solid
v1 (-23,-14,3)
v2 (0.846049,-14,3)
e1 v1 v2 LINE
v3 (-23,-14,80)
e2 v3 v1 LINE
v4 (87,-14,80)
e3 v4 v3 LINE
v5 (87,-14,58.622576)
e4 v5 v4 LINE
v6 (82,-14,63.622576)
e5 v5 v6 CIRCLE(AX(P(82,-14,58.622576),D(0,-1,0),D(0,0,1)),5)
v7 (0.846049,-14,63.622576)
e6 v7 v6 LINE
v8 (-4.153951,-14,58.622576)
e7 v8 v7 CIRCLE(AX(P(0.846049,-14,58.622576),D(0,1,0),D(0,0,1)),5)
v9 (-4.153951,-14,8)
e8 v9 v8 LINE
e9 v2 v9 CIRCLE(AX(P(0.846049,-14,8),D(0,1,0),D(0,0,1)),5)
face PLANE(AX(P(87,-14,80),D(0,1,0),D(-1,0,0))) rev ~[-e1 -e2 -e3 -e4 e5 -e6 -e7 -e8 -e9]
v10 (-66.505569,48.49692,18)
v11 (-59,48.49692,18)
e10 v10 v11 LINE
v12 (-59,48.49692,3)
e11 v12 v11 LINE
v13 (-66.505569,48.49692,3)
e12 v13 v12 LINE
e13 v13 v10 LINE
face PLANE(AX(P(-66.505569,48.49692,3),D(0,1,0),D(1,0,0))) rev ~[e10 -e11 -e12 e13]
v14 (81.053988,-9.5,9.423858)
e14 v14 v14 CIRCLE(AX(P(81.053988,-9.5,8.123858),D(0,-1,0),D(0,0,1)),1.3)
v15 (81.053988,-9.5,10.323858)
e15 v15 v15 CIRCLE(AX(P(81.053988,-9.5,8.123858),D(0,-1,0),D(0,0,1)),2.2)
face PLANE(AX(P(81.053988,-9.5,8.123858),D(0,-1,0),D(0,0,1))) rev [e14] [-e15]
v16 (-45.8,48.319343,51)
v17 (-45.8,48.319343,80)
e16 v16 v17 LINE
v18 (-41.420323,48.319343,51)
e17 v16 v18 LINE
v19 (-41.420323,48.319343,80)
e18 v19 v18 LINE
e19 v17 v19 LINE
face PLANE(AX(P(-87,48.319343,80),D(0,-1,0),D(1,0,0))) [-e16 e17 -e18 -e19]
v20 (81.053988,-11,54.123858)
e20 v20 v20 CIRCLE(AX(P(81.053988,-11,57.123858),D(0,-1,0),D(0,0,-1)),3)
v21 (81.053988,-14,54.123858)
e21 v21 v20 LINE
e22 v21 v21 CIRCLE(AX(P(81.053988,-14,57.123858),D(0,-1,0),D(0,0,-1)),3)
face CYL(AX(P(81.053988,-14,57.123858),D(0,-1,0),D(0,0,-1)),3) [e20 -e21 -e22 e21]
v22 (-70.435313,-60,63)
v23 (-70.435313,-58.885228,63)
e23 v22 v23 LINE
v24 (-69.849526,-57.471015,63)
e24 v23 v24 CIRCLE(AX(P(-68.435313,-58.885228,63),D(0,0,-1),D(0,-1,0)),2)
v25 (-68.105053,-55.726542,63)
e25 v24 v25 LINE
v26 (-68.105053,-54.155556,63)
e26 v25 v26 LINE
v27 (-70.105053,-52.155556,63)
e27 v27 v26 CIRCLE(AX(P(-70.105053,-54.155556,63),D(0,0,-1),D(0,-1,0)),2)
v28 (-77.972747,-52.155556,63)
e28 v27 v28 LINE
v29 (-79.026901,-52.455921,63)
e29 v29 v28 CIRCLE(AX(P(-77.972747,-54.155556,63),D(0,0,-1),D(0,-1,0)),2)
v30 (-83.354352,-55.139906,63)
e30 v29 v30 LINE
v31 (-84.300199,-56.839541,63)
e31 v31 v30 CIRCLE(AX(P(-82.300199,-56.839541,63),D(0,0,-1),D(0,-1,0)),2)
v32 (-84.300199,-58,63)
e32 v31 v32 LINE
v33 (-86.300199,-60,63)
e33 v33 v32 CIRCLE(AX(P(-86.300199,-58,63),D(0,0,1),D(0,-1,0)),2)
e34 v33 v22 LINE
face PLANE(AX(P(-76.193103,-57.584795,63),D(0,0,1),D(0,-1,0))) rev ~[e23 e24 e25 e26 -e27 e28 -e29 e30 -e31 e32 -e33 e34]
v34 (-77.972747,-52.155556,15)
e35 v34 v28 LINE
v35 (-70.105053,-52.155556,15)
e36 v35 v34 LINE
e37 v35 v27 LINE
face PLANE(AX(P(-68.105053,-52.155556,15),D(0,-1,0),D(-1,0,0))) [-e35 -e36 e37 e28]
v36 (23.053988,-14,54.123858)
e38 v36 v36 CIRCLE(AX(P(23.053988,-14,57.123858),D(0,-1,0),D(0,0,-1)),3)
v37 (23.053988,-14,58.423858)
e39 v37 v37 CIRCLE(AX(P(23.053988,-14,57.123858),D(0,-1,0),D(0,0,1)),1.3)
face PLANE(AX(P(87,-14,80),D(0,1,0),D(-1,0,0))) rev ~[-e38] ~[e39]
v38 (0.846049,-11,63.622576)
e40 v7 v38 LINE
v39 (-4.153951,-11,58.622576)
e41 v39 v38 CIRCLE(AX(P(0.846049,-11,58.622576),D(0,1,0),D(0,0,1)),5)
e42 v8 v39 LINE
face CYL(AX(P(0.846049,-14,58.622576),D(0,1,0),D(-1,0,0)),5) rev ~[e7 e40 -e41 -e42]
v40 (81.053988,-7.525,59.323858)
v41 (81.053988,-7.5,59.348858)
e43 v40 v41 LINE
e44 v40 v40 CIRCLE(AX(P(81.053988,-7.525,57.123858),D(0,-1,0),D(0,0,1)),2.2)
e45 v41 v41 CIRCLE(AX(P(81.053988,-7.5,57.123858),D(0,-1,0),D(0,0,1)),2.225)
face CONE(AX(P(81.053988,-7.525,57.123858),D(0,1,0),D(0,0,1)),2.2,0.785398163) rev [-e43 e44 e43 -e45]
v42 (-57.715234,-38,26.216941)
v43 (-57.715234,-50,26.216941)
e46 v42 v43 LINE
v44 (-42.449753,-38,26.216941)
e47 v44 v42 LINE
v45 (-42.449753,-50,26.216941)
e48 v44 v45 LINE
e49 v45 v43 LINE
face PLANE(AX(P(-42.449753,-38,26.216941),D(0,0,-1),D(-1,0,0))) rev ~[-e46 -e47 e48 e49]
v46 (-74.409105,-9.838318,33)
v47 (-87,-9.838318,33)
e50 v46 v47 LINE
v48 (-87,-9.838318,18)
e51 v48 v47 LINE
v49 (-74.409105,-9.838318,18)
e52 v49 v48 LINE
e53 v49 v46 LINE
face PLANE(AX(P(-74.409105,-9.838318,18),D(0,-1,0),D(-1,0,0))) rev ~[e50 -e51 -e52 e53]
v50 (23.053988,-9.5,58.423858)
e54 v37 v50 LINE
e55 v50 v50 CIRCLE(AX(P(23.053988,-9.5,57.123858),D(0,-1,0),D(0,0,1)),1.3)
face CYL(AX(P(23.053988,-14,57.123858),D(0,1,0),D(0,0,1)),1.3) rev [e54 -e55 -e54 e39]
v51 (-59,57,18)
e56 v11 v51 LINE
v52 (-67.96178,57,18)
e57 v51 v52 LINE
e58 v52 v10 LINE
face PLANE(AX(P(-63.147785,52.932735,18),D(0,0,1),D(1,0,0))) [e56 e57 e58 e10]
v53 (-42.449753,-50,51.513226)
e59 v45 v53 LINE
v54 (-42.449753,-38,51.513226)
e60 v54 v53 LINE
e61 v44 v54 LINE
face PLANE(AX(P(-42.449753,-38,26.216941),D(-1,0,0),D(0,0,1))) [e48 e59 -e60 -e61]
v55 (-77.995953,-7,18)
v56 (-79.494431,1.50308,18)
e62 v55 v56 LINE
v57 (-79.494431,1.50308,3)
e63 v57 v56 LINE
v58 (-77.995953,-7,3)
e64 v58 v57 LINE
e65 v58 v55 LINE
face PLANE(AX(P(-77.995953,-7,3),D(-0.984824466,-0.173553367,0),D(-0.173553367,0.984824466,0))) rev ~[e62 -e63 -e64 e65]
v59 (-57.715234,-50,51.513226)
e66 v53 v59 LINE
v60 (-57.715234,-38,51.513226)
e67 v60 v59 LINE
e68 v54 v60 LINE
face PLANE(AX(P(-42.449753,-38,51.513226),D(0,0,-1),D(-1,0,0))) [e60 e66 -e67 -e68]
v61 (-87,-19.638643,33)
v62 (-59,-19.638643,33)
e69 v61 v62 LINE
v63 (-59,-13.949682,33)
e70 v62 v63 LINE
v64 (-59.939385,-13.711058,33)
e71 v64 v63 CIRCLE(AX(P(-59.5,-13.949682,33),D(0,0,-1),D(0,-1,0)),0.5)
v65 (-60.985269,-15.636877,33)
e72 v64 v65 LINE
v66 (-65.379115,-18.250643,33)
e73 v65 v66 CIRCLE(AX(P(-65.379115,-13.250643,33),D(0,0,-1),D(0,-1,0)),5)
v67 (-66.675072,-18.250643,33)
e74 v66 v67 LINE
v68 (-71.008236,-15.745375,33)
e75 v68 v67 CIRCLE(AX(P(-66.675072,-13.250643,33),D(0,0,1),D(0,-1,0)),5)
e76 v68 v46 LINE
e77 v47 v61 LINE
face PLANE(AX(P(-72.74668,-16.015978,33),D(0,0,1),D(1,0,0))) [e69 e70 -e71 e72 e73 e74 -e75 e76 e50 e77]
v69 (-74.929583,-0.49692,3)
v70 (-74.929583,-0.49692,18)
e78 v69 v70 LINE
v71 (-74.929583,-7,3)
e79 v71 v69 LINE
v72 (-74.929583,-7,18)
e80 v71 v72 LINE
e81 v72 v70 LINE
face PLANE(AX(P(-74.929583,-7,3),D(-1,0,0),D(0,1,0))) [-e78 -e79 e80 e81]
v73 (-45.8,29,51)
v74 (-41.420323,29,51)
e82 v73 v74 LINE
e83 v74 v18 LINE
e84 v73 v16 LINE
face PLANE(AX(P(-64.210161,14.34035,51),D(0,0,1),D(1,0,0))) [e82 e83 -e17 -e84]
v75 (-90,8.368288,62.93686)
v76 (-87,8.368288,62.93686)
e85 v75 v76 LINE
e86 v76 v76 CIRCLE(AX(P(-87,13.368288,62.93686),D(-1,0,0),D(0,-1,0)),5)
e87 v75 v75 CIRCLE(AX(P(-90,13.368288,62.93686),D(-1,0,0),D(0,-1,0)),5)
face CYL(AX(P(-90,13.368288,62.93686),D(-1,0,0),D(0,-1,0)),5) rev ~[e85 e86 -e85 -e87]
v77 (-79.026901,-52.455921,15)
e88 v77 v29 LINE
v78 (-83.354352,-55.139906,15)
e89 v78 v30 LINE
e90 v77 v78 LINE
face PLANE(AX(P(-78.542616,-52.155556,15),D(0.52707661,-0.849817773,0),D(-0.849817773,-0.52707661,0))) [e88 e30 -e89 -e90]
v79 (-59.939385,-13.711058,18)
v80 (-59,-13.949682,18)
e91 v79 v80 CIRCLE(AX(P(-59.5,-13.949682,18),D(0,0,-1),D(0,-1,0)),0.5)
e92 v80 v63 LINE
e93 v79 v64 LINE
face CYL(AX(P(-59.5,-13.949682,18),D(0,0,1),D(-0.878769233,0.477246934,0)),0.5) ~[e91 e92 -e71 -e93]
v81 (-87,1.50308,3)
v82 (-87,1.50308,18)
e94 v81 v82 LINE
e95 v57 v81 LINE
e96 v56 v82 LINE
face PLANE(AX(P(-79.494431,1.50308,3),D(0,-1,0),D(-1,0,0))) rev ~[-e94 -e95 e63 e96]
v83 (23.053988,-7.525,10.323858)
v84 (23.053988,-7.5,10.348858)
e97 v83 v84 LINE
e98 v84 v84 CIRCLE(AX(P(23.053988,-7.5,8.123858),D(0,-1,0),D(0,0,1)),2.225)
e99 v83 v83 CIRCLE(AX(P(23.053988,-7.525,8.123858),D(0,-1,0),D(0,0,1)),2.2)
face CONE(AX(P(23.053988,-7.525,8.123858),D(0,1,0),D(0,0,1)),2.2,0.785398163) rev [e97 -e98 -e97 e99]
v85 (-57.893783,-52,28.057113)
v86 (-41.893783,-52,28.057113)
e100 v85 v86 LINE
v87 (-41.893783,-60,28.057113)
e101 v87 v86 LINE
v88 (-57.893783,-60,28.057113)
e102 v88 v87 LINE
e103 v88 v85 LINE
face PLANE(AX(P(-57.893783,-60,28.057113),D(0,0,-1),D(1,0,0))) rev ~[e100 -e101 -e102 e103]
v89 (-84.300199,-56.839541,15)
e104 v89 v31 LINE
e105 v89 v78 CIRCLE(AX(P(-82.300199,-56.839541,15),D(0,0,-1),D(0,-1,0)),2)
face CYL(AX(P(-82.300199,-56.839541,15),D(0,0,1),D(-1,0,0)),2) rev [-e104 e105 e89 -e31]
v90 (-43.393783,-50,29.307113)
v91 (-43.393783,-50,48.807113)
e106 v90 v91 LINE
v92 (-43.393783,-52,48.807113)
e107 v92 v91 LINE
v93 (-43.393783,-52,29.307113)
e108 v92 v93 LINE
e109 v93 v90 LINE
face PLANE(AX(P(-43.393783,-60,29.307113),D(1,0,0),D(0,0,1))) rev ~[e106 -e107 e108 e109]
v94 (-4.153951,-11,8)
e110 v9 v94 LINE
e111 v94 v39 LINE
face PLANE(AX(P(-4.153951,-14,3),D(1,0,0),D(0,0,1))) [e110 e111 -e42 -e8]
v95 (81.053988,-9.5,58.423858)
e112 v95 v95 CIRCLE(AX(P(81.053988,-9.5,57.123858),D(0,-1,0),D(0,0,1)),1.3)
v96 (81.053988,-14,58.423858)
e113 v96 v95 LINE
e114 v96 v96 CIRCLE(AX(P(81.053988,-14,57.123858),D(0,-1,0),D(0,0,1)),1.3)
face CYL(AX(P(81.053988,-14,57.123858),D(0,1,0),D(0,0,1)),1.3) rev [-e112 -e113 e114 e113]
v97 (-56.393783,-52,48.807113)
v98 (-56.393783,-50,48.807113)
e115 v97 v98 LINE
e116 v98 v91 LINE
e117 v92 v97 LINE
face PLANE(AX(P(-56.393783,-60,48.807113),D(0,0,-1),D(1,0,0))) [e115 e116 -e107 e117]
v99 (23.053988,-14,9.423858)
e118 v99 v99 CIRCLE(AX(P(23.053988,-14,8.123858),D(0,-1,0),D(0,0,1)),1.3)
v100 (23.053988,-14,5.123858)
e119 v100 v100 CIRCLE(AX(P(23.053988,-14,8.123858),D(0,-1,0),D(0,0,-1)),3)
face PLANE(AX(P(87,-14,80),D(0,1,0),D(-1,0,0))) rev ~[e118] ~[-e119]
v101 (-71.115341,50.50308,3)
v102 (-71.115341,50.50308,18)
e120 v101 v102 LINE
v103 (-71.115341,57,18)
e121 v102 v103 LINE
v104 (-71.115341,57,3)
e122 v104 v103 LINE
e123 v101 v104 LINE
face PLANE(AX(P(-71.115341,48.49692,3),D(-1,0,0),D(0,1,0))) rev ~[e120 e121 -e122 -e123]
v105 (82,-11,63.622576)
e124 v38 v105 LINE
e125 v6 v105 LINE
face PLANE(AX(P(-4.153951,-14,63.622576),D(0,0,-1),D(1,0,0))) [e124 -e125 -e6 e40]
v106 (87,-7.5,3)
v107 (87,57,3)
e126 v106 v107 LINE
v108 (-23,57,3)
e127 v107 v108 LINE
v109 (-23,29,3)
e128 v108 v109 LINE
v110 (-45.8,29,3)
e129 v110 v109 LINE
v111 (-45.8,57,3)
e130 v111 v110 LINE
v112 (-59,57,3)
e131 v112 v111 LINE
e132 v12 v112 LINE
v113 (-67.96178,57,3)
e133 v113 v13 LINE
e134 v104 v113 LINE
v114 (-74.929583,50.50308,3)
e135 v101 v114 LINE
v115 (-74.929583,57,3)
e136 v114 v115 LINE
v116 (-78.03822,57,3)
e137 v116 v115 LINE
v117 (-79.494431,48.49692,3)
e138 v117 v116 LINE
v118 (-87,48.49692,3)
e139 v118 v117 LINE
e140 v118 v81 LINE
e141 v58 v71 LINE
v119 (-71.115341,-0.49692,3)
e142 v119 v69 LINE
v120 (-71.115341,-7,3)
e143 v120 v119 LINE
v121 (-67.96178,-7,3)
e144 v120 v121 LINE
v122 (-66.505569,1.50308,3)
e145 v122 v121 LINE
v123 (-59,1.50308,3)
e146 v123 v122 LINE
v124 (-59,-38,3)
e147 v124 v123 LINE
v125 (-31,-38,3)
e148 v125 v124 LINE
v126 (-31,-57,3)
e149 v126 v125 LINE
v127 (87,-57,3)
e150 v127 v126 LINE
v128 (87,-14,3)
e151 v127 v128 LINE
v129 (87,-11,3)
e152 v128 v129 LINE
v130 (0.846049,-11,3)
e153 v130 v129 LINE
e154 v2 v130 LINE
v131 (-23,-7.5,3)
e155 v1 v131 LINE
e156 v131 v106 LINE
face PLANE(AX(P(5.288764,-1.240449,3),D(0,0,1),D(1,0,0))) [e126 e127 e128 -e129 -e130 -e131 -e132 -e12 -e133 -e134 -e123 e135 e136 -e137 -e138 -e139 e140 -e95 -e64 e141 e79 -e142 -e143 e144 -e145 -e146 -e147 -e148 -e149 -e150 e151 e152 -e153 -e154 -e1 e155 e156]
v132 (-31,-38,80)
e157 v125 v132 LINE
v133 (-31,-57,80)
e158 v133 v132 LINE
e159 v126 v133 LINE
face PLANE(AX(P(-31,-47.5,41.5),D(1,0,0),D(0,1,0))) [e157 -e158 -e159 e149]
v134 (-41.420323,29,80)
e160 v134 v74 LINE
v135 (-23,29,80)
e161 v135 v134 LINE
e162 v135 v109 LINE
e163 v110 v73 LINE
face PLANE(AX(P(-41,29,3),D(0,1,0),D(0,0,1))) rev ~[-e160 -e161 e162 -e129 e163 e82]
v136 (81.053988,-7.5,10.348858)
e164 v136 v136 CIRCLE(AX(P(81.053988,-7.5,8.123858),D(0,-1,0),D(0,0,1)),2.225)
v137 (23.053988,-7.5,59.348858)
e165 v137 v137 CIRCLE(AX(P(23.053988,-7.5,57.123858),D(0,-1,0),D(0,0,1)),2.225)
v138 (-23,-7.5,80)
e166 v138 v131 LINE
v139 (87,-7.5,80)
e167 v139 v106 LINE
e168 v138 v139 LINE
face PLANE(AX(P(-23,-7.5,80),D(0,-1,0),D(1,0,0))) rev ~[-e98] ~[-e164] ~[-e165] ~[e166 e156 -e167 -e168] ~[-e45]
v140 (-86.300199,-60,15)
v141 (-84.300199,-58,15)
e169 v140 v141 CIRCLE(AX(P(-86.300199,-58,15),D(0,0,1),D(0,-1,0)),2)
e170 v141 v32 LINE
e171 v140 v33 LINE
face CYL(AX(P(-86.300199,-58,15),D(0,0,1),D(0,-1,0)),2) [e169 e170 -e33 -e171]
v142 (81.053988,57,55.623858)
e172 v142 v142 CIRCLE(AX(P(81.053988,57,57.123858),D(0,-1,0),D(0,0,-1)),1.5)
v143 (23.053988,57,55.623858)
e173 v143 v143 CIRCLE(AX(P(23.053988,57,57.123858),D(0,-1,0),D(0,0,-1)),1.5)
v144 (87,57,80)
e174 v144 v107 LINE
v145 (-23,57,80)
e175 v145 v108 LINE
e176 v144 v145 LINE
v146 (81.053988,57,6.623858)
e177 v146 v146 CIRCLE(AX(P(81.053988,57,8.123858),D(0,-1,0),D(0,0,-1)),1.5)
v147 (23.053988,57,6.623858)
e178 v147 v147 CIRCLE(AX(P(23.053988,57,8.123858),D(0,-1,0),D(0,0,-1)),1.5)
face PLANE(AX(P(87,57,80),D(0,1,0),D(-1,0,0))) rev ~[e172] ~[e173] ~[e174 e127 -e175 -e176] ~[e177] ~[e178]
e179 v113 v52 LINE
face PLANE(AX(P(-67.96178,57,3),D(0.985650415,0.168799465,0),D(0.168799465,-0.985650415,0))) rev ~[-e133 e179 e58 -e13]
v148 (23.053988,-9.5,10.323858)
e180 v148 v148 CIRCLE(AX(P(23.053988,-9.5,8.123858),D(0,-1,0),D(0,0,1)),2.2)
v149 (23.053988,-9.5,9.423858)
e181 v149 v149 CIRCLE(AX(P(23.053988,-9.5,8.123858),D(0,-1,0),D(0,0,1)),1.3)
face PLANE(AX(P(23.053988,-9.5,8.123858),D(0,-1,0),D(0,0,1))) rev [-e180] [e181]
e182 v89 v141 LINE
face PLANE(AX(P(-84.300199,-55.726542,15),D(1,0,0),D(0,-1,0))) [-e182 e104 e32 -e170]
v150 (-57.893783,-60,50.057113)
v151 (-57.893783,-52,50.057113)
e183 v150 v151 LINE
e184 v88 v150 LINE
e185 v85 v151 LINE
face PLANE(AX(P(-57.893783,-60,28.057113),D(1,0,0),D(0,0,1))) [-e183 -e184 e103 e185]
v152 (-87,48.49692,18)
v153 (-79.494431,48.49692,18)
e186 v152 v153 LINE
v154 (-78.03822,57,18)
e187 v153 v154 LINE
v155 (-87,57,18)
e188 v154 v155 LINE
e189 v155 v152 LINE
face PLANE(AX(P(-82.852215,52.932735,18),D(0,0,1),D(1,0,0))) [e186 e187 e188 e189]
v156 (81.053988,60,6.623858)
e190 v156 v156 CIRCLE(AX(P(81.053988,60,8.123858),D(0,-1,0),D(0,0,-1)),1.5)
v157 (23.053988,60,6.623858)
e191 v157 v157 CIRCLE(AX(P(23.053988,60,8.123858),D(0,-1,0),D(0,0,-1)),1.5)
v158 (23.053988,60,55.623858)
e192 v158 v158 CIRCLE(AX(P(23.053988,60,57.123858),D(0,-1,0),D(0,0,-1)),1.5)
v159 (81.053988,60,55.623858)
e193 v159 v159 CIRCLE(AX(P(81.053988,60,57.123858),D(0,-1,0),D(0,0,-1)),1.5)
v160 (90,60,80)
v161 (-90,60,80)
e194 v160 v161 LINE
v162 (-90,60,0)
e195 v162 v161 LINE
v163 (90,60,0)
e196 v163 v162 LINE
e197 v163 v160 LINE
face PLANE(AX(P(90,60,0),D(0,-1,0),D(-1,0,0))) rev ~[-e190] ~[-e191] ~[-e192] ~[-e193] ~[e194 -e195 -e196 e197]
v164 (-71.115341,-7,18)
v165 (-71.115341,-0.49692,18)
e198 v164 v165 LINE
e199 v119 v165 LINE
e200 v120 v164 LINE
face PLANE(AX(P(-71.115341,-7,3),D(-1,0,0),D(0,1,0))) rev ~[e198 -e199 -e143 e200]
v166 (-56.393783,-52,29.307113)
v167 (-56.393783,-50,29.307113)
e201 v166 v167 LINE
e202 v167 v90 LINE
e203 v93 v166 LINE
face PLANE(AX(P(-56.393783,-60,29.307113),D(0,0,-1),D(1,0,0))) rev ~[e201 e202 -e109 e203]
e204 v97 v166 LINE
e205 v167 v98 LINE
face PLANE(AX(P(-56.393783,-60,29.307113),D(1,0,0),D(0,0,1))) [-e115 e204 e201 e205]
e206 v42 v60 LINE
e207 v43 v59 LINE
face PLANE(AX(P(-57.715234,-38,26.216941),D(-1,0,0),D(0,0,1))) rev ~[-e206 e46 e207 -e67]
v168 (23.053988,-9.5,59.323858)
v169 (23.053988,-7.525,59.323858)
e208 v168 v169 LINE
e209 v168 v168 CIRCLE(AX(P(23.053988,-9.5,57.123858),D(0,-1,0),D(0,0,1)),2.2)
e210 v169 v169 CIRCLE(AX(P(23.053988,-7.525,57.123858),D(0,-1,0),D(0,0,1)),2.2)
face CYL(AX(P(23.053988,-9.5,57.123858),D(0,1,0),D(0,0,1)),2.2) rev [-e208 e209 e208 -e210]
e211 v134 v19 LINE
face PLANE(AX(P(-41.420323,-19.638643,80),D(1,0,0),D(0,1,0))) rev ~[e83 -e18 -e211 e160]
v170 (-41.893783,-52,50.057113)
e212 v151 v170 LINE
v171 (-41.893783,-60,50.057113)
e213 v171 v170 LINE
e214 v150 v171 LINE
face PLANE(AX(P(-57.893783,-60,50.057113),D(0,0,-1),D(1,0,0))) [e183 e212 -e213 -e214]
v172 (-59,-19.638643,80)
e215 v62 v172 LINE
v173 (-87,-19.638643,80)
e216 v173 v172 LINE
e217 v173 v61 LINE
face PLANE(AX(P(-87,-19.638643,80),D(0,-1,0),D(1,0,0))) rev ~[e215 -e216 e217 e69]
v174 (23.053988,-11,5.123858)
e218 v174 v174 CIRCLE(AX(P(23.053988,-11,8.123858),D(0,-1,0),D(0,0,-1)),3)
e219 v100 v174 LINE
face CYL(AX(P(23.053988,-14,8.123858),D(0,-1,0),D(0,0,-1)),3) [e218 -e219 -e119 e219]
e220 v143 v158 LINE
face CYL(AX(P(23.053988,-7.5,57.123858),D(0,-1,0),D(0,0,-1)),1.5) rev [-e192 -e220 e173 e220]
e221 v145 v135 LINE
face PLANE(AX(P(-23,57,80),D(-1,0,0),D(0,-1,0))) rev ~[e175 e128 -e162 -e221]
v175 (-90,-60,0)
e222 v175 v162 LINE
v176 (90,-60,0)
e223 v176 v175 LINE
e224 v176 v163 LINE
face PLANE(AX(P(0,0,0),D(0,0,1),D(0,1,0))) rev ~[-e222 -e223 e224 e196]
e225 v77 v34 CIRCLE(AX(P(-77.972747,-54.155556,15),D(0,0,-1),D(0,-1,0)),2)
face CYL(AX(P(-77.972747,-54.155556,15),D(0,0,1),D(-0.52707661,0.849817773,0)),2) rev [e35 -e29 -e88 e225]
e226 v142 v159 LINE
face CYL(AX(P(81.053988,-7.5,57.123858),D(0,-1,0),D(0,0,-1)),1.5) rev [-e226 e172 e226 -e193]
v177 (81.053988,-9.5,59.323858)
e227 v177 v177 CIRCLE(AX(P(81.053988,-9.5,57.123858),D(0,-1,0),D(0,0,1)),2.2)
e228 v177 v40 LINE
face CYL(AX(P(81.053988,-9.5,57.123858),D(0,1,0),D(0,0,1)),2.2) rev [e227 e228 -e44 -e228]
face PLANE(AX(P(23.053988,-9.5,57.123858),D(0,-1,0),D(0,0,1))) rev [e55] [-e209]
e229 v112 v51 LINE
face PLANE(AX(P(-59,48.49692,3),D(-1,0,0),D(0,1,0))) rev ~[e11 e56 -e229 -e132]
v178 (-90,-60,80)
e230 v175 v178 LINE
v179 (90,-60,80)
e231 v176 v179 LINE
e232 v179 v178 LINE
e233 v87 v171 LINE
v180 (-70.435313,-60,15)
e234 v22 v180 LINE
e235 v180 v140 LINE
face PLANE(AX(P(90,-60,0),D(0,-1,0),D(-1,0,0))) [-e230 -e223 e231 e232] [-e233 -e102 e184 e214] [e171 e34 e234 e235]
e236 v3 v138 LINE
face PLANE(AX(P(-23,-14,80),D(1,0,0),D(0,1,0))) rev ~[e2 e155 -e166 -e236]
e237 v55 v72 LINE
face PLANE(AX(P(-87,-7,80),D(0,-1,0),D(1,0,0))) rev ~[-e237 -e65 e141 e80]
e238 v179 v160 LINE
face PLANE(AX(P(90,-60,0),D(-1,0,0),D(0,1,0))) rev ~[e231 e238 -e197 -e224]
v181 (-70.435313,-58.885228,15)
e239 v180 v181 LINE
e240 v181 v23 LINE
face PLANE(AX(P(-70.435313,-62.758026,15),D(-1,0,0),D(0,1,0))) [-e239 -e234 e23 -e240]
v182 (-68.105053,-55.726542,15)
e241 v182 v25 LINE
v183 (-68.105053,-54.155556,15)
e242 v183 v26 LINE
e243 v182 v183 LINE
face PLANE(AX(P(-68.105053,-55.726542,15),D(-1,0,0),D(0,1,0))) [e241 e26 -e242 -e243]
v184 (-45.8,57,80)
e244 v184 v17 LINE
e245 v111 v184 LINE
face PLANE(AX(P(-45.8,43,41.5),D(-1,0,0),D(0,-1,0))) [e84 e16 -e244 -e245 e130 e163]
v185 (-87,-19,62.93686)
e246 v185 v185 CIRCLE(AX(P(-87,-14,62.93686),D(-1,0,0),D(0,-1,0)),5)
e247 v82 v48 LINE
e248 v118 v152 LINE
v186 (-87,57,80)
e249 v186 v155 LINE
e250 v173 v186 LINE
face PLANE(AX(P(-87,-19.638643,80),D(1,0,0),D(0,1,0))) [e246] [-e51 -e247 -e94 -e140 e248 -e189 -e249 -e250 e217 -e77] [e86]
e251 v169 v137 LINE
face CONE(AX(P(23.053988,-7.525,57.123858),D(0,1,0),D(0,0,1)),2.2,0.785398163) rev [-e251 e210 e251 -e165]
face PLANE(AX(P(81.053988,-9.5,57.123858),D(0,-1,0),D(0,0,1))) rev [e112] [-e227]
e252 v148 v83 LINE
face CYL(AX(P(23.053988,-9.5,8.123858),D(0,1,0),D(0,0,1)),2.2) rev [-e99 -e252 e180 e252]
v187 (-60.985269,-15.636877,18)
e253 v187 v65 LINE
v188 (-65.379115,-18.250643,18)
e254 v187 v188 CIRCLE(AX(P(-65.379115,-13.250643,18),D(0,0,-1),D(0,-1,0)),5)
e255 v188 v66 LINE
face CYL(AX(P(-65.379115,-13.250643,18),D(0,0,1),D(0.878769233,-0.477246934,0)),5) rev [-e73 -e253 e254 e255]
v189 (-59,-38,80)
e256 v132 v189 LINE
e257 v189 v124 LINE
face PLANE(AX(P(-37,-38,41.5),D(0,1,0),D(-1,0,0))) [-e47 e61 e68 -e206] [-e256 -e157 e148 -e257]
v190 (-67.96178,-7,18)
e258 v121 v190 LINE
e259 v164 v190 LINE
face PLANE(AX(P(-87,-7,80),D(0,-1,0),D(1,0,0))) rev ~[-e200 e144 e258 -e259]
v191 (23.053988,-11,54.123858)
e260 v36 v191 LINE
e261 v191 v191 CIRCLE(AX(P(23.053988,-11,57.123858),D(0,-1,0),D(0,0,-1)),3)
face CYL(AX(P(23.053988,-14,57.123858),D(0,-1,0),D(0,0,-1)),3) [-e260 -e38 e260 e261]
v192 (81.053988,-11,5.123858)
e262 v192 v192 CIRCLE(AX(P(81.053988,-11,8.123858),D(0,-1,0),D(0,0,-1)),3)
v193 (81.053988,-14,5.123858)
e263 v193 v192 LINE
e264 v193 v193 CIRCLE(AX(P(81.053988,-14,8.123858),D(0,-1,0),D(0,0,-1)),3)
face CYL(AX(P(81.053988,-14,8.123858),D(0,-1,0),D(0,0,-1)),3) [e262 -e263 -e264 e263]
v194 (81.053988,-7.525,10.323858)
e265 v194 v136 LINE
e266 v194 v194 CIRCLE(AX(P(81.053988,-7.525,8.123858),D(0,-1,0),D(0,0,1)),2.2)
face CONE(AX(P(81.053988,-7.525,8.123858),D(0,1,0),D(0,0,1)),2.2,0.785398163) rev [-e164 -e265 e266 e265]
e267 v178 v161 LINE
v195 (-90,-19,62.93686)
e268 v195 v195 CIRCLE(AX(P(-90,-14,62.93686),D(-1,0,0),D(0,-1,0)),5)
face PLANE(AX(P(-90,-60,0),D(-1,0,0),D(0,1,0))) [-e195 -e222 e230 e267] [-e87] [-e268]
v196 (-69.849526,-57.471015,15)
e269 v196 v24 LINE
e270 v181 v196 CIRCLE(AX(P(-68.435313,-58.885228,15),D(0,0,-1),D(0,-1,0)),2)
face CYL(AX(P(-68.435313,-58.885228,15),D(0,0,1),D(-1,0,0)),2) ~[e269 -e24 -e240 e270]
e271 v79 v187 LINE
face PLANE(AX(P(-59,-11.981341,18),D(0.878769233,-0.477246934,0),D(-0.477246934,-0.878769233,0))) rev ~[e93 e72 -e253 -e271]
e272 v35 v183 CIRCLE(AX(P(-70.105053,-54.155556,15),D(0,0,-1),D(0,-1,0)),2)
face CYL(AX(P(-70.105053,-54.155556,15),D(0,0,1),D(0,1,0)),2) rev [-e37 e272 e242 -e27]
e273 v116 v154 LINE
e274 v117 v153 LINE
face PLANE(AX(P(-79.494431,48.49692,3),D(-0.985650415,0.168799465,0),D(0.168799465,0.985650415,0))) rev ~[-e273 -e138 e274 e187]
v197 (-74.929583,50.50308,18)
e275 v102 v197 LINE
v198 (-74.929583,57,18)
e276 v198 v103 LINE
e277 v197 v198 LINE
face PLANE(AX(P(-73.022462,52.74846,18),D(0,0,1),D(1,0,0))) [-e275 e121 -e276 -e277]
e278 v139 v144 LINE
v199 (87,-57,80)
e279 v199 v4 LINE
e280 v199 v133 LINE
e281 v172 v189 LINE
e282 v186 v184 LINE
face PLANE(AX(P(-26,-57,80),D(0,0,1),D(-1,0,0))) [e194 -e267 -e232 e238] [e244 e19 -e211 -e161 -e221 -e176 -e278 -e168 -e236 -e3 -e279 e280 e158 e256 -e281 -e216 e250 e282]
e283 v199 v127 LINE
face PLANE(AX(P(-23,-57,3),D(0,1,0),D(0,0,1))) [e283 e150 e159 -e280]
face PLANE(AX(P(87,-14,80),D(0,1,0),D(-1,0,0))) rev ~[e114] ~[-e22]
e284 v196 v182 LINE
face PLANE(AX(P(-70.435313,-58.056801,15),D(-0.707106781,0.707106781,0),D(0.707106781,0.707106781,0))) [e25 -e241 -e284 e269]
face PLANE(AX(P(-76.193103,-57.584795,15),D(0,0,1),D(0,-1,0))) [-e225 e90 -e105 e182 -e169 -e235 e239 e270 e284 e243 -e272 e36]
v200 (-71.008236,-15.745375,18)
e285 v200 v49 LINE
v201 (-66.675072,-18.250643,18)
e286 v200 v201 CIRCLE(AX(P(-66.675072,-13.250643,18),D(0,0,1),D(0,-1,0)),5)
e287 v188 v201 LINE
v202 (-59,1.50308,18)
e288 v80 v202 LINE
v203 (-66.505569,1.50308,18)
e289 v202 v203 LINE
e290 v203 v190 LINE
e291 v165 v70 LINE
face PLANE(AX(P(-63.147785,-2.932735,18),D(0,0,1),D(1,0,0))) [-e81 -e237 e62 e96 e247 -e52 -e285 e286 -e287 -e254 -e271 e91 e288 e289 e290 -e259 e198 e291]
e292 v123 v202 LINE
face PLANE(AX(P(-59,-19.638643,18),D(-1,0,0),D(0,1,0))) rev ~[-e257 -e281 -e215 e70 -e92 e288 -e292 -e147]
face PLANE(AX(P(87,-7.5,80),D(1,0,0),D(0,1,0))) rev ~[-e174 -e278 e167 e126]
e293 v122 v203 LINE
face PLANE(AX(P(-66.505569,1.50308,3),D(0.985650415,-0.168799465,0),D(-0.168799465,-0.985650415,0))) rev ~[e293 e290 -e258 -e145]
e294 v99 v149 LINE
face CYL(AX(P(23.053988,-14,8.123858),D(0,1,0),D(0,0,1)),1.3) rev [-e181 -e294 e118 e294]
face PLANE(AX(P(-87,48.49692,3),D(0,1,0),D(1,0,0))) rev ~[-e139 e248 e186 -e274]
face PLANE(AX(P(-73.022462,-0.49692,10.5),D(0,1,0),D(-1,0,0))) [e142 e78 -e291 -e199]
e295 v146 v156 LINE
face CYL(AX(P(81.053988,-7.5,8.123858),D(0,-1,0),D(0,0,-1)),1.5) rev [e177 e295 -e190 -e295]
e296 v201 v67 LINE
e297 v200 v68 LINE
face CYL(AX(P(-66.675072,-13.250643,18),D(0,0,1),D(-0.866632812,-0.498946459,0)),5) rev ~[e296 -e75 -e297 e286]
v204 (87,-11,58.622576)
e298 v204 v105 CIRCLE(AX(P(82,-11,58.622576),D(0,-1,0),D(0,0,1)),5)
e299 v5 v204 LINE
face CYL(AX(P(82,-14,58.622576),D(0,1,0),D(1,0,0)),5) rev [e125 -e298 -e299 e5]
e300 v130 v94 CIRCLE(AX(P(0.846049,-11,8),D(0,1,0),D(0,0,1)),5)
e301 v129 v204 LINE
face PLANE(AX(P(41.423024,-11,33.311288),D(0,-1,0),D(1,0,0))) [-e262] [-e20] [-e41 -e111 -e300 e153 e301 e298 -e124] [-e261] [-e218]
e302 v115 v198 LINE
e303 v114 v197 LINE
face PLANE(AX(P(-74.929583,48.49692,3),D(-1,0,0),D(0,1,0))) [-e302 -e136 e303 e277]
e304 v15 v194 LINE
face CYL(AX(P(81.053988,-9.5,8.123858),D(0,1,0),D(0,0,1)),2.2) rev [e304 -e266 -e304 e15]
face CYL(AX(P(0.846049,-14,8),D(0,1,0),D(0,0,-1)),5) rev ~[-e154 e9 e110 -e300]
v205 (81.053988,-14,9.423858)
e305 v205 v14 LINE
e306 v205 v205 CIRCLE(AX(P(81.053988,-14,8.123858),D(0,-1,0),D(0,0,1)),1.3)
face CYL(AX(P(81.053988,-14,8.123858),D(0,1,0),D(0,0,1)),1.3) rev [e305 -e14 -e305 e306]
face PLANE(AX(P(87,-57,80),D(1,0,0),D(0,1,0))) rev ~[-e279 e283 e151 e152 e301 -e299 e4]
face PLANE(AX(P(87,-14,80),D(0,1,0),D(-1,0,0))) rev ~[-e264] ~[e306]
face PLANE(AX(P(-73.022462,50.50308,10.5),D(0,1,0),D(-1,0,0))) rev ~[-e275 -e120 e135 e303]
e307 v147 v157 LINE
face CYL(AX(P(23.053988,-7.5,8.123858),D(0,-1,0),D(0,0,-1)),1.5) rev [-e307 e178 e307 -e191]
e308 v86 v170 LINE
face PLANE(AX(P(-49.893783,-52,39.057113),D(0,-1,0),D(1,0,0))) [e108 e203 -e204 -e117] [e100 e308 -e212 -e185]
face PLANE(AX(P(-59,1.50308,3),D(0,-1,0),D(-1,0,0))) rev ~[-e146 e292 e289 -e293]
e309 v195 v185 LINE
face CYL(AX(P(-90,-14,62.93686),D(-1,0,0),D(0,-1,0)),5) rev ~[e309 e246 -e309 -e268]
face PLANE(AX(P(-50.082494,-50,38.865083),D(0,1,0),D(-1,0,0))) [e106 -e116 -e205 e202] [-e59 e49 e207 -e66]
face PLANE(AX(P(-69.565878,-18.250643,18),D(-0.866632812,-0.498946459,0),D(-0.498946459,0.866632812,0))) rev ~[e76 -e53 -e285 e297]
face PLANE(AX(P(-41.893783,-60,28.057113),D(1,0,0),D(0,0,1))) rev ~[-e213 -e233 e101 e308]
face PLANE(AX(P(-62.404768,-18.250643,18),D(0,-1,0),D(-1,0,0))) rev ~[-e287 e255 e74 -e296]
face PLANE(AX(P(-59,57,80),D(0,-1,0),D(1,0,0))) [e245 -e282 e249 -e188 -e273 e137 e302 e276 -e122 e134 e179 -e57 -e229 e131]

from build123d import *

# Parameters (mm, degrees)
SKETCH1_W                     = 120
SKETCH1_H                     = 180
BOSS_EXTRUDE1_DEPTH           = 80
CUT_EXTRUDE2_DEPTH            = 77
SKETCH5_W                     = 18
SKETCH5_H                     = 28
CUT_EXTRUDE3_DEPTH            = 77
SKETCH7_W                     = 3.814242132
SKETCH7_H                     = 8.503079505
BOSS_EXTRUDE2_DEPTH           = 15
SKETCH8_W                     = 28
SKETCH8_H                     = 12.638642759
CUT_EXTRUDE4_DEPTH            = 62
SKETCH10_W                    = 28
SKETCH10_H                    = 77
BOSS_EXTRUDE5_DEPTH           = 4.8
BOSS_EXTRUDE6_DEPTH           = 15
FILLET1_R                     = 0.5
FILLET2_R                     = 5
CBORE_FOR_M2_SHCS1_AT_2_COUNT = 2
CBORE_FOR_M2_SHCS1_AT_2_PITCH = 58
CBORE_FOR_M2_SHCS1_AT_3_COUNT = 2
CBORE_FOR_M2_SHCS1_AT_3_PITCH = 49
CBORE_FOR_M2_SHCS1_AT_4_COUNT = 2
CBORE_FOR_M2_SHCS1_AT_4_PITCH = 75.927597091
CUT_EXTRUDE8_DEPTH            = 3
CUT_EXTRUDE8_DEPTH_BACK       = 45
FILLET3_R                     = 2
SKETCH21_R                    = 5
CUT_EXTRUDE9_DEPTH            = 25
SKETCH22_W                    = 22
SKETCH22_H                    = 77
BOSS_EXTRUDE7_DEPTH           = 19
SKETCH23_W                    = 13
SKETCH23_H                    = 19.5
CUT_EXTRUDE10_DEPTH           = 30
SKETCH24_W                    = 16
SKETCH24_H                    = 22
CUT_EXTRUDE11_DEPTH           = 8
SKETCH25_W                    = 15.26548048
SKETCH25_H                    = 25.296285881
CUT_EXTRUDE12_DEPTH           = 12
SKETCH26_R                    = 1.5
CUT_EXTRUDE13_DEPTH           = 73
CUT_EXTRUDE14_DEPTH           = 49
CUT_EXTRUDE14_DEPTH_BACK      = 2
SKETCH27_W                    = 3.814242132
SKETCH27_H                    = 15
SKETCH28_W                    = 45.579677418
SKETCH28_H                    = 67.957985629
CUT_EXTRUDE15_DEPTH           = 29
SKETCH29_W                    = 19
SKETCH29_H                    = 77
CUT_EXTRUDE17_DEPTH           = 8
SKETCH30_W                    = 91.153951036
SKETCH30_H                    = 60.622575867
SKETCH30_R                    = 3
CUT_EXTRUDE18_DEPTH           = 3
FILLET4_R                     = 5


with BuildPart() as part:
    # Sketch1 → Boss-Extrude1 (new body)
    with BuildSketch(Plane(origin=(0, 0, 0), x_dir=(0, 1, 0), z_dir=(0, 0, 1))):
        Rectangle(SKETCH1_W, SKETCH1_H)
    extrude(amount=BOSS_EXTRUDE1_DEPTH)

    # Sketch4 → Cut-Extrude2 (cut)
    with BuildSketch(Plane(origin=(-1315.649869597, -737.347167088, 80), x_dir=(1, 0, 0), z_dir=(0, 0, 1))):
        Polygon((1292.649869597, 766.347167088), (1256.649869597, 766.347167088), (1256.649869597, 794.347167088), (1228.649869597, 794.347167088), (1228.649869597, 730.347167088), (1256.649869597, 730.347167088), (1256.649869597, 699.347167088), (1267.649869597, 699.347167088), (1267.649869597, 680.347167088), (1289.649869597, 680.347167088), (1289.649869597, 699.347167088), (1292.649869597, 699.347167088), (1292.649869597, 680.347167088), (1402.649869597, 680.347167088), (1402.649869597, 723.347167088), (1292.649869597, 723.347167088), (1292.649869597, 729.847167088), (1402.649869597, 729.847167088), (1402.649869597, 794.347167088), (1292.649869597, 794.347167088), align=None)
    extrude(amount=-CUT_EXTRUDE2_DEPTH, mode=Mode.SUBTRACT)

    # Sketch5 → Cut-Extrude3 (cut)
    with BuildSketch(Plane(origin=(-1315.649869597, -737.347167088, 80), x_dir=(1, 0, 0), z_dir=(0, 0, 1))):
        with Locations((1265.649869597, 780.347167088)):
            Rectangle(SKETCH5_W, SKETCH5_H)
    extrude(amount=-CUT_EXTRUDE3_DEPTH, mode=Mode.SUBTRACT)

    # Sketch7 → Boss-Extrude2 (add)
    with BuildSketch(Plane.XY.offset(3)):
        Polygon((-66.505568734, 48.496920495), (-59, 48.496920495), (-59, 57), (-67.961780033, 57), align=None)
        Polygon((-59, -7), (-59, 1.503079505), (-66.505568734, 1.503079505), (-67.961780033, -7), align=None)
        with Locations((-73.022462164, -2.748460247)):
            Rectangle(SKETCH7_W, SKETCH7_H)
        with Locations((-73.022462164, 52.748460248)):
            Rectangle(SKETCH7_W, SKETCH7_H)
        Polygon((-87, 57), (-87, 48.496920495), (-79.494431266, 48.496920495), (-78.038219967, 57), align=None)
        Polygon((-79.494431266, 1.503079505), (-87, 1.503079505), (-87, -7), (-77.995952978, -7), align=None)
    extrude(amount=BOSS_EXTRUDE2_DEPTH)

    # Sketch8 → Cut-Extrude4 (cut)
    with BuildSketch(Plane.XY.offset(80)):
        with Locations((-73, -13.319321379)):
            Rectangle(SKETCH8_W, SKETCH8_H)
    extrude(amount=-CUT_EXTRUDE4_DEPTH, mode=Mode.SUBTRACT)

    # Sketch10 → Boss-Extrude5 (add)
    with BuildSketch(Plane(origin=(-41, 0, 0), x_dir=(0, -1, 0), z_dir=(-1, 0, 0))):
        with Locations((-43, 41.5)):
            Rectangle(SKETCH10_W, SKETCH10_H)
    extrude(amount=BOSS_EXTRUDE5_DEPTH)

    # Sketch12 → Boss-Extrude6 (add)
    with BuildSketch(Plane.XY.offset(18)):
        Polygon((-59, -11.981340953), (-62.404767659, -18.250642754), (-69.565878077, -18.250642754), (-74.409105395, -9.838317886), (-87, -9.838317886), (-87, -19.638642759), (-59, -19.638642759), align=None)
    extrude(amount=BOSS_EXTRUDE6_DEPTH)

    # Fillet1
    fillet1_edges = [part.edges().sort_by_distance(p)[0] for p in [
        (-59, -11.981340953, 25.5),
    ]]
    fillet(fillet1_edges, radius=FILLET1_R)

    # Fillet2
    fillet2_edges = [part.edges().sort_by_distance(p)[0] for p in [
        (-62.404767659, -18.250642754, 25.5),
        (-69.565878077, -18.250642754, 25.5),
    ]]
    fillet(fillet2_edges, radius=FILLET2_R)

    # Sketch15 → CBORE for M2 SHCS1 (revolve, cut)
    with BuildSketch(Plane(origin=(81.053987796, -7.5, 57.123857513), x_dir=(0, 0, 1), z_dir=(1, 0, 0))):
        Polygon((0, 0), (0, 7.281118805), (1.3, 6.5), (1.3, 2), (2.2, 2), (2.2, 0.025), (2.225, 0), align=None)
    cbore_for_m2_shcs1 = revolve(axis=Axis((81.053987796, -1.15, 57.123857513), (0, -1, 0)), mode=Mode.SUBTRACT)

    # CBORE for M2 SHCS1 at 2: CBORE for M2 SHCS1 ×2
    with Locations(*[(-i * CBORE_FOR_M2_SHCS1_AT_2_PITCH, 0, 0) for i in range(1, CBORE_FOR_M2_SHCS1_AT_2_COUNT)]):
        add(cbore_for_m2_shcs1, mode=Mode.SUBTRACT)

    # CBORE for M2 SHCS1 at 3: CBORE for M2 SHCS1 ×2
    with Locations(*[(0, 0, -i * CBORE_FOR_M2_SHCS1_AT_3_PITCH) for i in range(1, CBORE_FOR_M2_SHCS1_AT_3_COUNT)]):
        add(cbore_for_m2_shcs1, mode=Mode.SUBTRACT)

    # CBORE for M2 SHCS1 at 4: CBORE for M2 SHCS1 ×2
    with Locations(*[Vector(-0.7638856255460443, 0, -0.6453516491682101) * (i * CBORE_FOR_M2_SHCS1_AT_4_PITCH) for i in range(1, CBORE_FOR_M2_SHCS1_AT_4_COUNT)]):
        add(cbore_for_m2_shcs1, mode=Mode.SUBTRACT)

    # Sketch18 → Cut-Extrude8 (cut, two sides: drawn at the far end of the back side and taken through both)
    with BuildSketch(Plane(origin=(0, 0, 60), x_dir=(0, -1, 0), z_dir=(0, 0, 1)).offset(-CUT_EXTRUDE8_DEPTH_BACK)):
        Polygon((62.758026494, -84.300198527), (62.758026494, -70.435312794), (58.056801253, -70.435312794), (55.726541794, -68.105053334), (52.155556116, -68.105053334), (52.155556116, -78.542615973), (55.726541794, -84.300198527), align=None)
    extrude(amount=CUT_EXTRUDE8_DEPTH + CUT_EXTRUDE8_DEPTH_BACK, mode=Mode.SUBTRACT)

    # Fillet3
    fillet3_edges = [part.edges().sort_by_distance(p)[0] for p in [
        (-84.300198527, -60, 39),
        (-84.300198527, -55.726541794, 39),
        (-70.435312794, -58.056801253, 39),
        (-68.105053334, -52.155556116, 39),
        (-78.542615973, -52.155556116, 39),
    ]]
    fillet(fillet3_edges, radius=FILLET3_R)

    # Sketch21 → Cut-Extrude9 (cut)
    with BuildSketch(Plane(origin=(-90, 0, 0), x_dir=(0, -1, 0), z_dir=(-1, 0, 0))):
        with Locations((14, 62.936860053)):
            Circle(SKETCH21_R)
        with Locations((-13.368287607, 62.936860053)):
            Circle(SKETCH21_R)
    extrude(amount=-CUT_EXTRUDE9_DEPTH, mode=Mode.SUBTRACT)

    # Sketch22 → Boss-Extrude7 (add)
    with BuildSketch(Plane(origin=(0, -57, 0), x_dir=(-1, 0, 0), z_dir=(0, 1, 0))):
        with Locations((37, 41.5)):
            Rectangle(SKETCH22_W, SKETCH22_H)
    extrude(amount=BOSS_EXTRUDE7_DEPTH)

    # Sketch23 → Cut-Extrude10 (cut)
    with BuildSketch(Plane.XZ.offset(60)):
        with Locations((-49.893782672, 39.05711255)):
            Rectangle(SKETCH23_W, SKETCH23_H)
    extrude(amount=-CUT_EXTRUDE10_DEPTH, mode=Mode.SUBTRACT)

    # Sketch24 → Cut-Extrude11 (cut)
    with BuildSketch(Plane.XZ.offset(60)):
        with Locations((-49.893782672, 39.05711255)):
            Rectangle(SKETCH24_W, SKETCH24_H)
    extrude(amount=-CUT_EXTRUDE11_DEPTH, mode=Mode.SUBTRACT)

    # Sketch25 → Cut-Extrude12 (cut)
    with BuildSketch(Plane(origin=(0, -38, 0), x_dir=(-1, 0, 0), z_dir=(0, 1, 0))):
        with Locations((50.082493717, 38.865083442)):
            Rectangle(SKETCH25_W, SKETCH25_H)
    extrude(amount=-CUT_EXTRUDE12_DEPTH, mode=Mode.SUBTRACT)

    # Sketch26 → Cut-Extrude13 (cut)
    with BuildSketch(Plane(origin=(0, -7.5, 0), x_dir=(-1, 0, 0), z_dir=(0, 1, 0))):
        with Locations(Location((-23.053987796, 57.123857513, 0), (0, 0, 270))):
            Circle(SKETCH26_R)
        with Locations(Location((-23.053987796, 8.123857513, 0), (0, 0, 270))):
            Circle(SKETCH26_R)
        with Locations(Location((-81.053987796, 8.123857513, 0), (0, 0, 270))):
            Circle(SKETCH26_R)
        with Locations(Location((-81.053987796, 57.123857513, 0), (0, 0, 270))):
            Circle(SKETCH26_R)
    extrude(amount=CUT_EXTRUDE13_DEPTH, mode=Mode.SUBTRACT)

    # Sketch27 → Cut-Extrude14 (cut, two sides: drawn at the far end of the back side and taken through both)
    with BuildSketch(Plane(origin=(0, 1.503079505, 0), x_dir=(-1, 0, 0), z_dir=(0, 1, 0)).offset(-CUT_EXTRUDE14_DEPTH_BACK)):
        with Locations((73.022462164, 10.5)):
            Rectangle(SKETCH27_W, SKETCH27_H)
    extrude(amount=CUT_EXTRUDE14_DEPTH + CUT_EXTRUDE14_DEPTH_BACK, mode=Mode.SUBTRACT)

    # Sketch28 → Cut-Extrude15 (cut)
    with BuildSketch(Plane.XY.offset(80)):
        with Locations((-64.210161291, 14.340350056)):
            Rectangle(SKETCH28_W, SKETCH28_H)
    extrude(amount=-CUT_EXTRUDE15_DEPTH, mode=Mode.SUBTRACT)

    # Sketch29 → Cut-Extrude17 (cut)
    with BuildSketch(Plane.YZ.offset(-23)):
        with Locations((-47.5, 41.5)):
            Rectangle(SKETCH29_W, SKETCH29_H)
    extrude(amount=-CUT_EXTRUDE17_DEPTH, mode=Mode.SUBTRACT)

    # Sketch30 → Cut-Extrude18 (cut)
    with BuildSketch(Plane.XZ.offset(14)):
        with Locations((41.423024482, 33.311287933)):
            Rectangle(SKETCH30_W, SKETCH30_H)
        with Locations(Location((23.053987796, 8.123857513, 0), (0, 0, 270))):
            Circle(SKETCH30_R, mode=Mode.SUBTRACT)
        with Locations(Location((23.053987796, 57.123857513, 0), (0, 0, 270))):
            Circle(SKETCH30_R, mode=Mode.SUBTRACT)
        with Locations(Location((81.053987796, 8.123857513, 0), (0, 0, 270))):
            Circle(SKETCH30_R, mode=Mode.SUBTRACT)
        with Locations(Location((81.053987796, 57.123857513, 0), (0, 0, 270))):
            Circle(SKETCH30_R, mode=Mode.SUBTRACT)
    extrude(amount=-CUT_EXTRUDE18_DEPTH, mode=Mode.SUBTRACT)

    # Fillet4
    fillet4_edges = [part.edges().sort_by_distance(p)[0] for p in [
        (87, -12.5, 63.622575867),
        (-4.153951036, -12.5, 3),
        (-4.153951036, -12.5, 63.622575867),
    ]]
    fillet(fillet4_edges, radius=FILLET4_R)


solid = part.part
